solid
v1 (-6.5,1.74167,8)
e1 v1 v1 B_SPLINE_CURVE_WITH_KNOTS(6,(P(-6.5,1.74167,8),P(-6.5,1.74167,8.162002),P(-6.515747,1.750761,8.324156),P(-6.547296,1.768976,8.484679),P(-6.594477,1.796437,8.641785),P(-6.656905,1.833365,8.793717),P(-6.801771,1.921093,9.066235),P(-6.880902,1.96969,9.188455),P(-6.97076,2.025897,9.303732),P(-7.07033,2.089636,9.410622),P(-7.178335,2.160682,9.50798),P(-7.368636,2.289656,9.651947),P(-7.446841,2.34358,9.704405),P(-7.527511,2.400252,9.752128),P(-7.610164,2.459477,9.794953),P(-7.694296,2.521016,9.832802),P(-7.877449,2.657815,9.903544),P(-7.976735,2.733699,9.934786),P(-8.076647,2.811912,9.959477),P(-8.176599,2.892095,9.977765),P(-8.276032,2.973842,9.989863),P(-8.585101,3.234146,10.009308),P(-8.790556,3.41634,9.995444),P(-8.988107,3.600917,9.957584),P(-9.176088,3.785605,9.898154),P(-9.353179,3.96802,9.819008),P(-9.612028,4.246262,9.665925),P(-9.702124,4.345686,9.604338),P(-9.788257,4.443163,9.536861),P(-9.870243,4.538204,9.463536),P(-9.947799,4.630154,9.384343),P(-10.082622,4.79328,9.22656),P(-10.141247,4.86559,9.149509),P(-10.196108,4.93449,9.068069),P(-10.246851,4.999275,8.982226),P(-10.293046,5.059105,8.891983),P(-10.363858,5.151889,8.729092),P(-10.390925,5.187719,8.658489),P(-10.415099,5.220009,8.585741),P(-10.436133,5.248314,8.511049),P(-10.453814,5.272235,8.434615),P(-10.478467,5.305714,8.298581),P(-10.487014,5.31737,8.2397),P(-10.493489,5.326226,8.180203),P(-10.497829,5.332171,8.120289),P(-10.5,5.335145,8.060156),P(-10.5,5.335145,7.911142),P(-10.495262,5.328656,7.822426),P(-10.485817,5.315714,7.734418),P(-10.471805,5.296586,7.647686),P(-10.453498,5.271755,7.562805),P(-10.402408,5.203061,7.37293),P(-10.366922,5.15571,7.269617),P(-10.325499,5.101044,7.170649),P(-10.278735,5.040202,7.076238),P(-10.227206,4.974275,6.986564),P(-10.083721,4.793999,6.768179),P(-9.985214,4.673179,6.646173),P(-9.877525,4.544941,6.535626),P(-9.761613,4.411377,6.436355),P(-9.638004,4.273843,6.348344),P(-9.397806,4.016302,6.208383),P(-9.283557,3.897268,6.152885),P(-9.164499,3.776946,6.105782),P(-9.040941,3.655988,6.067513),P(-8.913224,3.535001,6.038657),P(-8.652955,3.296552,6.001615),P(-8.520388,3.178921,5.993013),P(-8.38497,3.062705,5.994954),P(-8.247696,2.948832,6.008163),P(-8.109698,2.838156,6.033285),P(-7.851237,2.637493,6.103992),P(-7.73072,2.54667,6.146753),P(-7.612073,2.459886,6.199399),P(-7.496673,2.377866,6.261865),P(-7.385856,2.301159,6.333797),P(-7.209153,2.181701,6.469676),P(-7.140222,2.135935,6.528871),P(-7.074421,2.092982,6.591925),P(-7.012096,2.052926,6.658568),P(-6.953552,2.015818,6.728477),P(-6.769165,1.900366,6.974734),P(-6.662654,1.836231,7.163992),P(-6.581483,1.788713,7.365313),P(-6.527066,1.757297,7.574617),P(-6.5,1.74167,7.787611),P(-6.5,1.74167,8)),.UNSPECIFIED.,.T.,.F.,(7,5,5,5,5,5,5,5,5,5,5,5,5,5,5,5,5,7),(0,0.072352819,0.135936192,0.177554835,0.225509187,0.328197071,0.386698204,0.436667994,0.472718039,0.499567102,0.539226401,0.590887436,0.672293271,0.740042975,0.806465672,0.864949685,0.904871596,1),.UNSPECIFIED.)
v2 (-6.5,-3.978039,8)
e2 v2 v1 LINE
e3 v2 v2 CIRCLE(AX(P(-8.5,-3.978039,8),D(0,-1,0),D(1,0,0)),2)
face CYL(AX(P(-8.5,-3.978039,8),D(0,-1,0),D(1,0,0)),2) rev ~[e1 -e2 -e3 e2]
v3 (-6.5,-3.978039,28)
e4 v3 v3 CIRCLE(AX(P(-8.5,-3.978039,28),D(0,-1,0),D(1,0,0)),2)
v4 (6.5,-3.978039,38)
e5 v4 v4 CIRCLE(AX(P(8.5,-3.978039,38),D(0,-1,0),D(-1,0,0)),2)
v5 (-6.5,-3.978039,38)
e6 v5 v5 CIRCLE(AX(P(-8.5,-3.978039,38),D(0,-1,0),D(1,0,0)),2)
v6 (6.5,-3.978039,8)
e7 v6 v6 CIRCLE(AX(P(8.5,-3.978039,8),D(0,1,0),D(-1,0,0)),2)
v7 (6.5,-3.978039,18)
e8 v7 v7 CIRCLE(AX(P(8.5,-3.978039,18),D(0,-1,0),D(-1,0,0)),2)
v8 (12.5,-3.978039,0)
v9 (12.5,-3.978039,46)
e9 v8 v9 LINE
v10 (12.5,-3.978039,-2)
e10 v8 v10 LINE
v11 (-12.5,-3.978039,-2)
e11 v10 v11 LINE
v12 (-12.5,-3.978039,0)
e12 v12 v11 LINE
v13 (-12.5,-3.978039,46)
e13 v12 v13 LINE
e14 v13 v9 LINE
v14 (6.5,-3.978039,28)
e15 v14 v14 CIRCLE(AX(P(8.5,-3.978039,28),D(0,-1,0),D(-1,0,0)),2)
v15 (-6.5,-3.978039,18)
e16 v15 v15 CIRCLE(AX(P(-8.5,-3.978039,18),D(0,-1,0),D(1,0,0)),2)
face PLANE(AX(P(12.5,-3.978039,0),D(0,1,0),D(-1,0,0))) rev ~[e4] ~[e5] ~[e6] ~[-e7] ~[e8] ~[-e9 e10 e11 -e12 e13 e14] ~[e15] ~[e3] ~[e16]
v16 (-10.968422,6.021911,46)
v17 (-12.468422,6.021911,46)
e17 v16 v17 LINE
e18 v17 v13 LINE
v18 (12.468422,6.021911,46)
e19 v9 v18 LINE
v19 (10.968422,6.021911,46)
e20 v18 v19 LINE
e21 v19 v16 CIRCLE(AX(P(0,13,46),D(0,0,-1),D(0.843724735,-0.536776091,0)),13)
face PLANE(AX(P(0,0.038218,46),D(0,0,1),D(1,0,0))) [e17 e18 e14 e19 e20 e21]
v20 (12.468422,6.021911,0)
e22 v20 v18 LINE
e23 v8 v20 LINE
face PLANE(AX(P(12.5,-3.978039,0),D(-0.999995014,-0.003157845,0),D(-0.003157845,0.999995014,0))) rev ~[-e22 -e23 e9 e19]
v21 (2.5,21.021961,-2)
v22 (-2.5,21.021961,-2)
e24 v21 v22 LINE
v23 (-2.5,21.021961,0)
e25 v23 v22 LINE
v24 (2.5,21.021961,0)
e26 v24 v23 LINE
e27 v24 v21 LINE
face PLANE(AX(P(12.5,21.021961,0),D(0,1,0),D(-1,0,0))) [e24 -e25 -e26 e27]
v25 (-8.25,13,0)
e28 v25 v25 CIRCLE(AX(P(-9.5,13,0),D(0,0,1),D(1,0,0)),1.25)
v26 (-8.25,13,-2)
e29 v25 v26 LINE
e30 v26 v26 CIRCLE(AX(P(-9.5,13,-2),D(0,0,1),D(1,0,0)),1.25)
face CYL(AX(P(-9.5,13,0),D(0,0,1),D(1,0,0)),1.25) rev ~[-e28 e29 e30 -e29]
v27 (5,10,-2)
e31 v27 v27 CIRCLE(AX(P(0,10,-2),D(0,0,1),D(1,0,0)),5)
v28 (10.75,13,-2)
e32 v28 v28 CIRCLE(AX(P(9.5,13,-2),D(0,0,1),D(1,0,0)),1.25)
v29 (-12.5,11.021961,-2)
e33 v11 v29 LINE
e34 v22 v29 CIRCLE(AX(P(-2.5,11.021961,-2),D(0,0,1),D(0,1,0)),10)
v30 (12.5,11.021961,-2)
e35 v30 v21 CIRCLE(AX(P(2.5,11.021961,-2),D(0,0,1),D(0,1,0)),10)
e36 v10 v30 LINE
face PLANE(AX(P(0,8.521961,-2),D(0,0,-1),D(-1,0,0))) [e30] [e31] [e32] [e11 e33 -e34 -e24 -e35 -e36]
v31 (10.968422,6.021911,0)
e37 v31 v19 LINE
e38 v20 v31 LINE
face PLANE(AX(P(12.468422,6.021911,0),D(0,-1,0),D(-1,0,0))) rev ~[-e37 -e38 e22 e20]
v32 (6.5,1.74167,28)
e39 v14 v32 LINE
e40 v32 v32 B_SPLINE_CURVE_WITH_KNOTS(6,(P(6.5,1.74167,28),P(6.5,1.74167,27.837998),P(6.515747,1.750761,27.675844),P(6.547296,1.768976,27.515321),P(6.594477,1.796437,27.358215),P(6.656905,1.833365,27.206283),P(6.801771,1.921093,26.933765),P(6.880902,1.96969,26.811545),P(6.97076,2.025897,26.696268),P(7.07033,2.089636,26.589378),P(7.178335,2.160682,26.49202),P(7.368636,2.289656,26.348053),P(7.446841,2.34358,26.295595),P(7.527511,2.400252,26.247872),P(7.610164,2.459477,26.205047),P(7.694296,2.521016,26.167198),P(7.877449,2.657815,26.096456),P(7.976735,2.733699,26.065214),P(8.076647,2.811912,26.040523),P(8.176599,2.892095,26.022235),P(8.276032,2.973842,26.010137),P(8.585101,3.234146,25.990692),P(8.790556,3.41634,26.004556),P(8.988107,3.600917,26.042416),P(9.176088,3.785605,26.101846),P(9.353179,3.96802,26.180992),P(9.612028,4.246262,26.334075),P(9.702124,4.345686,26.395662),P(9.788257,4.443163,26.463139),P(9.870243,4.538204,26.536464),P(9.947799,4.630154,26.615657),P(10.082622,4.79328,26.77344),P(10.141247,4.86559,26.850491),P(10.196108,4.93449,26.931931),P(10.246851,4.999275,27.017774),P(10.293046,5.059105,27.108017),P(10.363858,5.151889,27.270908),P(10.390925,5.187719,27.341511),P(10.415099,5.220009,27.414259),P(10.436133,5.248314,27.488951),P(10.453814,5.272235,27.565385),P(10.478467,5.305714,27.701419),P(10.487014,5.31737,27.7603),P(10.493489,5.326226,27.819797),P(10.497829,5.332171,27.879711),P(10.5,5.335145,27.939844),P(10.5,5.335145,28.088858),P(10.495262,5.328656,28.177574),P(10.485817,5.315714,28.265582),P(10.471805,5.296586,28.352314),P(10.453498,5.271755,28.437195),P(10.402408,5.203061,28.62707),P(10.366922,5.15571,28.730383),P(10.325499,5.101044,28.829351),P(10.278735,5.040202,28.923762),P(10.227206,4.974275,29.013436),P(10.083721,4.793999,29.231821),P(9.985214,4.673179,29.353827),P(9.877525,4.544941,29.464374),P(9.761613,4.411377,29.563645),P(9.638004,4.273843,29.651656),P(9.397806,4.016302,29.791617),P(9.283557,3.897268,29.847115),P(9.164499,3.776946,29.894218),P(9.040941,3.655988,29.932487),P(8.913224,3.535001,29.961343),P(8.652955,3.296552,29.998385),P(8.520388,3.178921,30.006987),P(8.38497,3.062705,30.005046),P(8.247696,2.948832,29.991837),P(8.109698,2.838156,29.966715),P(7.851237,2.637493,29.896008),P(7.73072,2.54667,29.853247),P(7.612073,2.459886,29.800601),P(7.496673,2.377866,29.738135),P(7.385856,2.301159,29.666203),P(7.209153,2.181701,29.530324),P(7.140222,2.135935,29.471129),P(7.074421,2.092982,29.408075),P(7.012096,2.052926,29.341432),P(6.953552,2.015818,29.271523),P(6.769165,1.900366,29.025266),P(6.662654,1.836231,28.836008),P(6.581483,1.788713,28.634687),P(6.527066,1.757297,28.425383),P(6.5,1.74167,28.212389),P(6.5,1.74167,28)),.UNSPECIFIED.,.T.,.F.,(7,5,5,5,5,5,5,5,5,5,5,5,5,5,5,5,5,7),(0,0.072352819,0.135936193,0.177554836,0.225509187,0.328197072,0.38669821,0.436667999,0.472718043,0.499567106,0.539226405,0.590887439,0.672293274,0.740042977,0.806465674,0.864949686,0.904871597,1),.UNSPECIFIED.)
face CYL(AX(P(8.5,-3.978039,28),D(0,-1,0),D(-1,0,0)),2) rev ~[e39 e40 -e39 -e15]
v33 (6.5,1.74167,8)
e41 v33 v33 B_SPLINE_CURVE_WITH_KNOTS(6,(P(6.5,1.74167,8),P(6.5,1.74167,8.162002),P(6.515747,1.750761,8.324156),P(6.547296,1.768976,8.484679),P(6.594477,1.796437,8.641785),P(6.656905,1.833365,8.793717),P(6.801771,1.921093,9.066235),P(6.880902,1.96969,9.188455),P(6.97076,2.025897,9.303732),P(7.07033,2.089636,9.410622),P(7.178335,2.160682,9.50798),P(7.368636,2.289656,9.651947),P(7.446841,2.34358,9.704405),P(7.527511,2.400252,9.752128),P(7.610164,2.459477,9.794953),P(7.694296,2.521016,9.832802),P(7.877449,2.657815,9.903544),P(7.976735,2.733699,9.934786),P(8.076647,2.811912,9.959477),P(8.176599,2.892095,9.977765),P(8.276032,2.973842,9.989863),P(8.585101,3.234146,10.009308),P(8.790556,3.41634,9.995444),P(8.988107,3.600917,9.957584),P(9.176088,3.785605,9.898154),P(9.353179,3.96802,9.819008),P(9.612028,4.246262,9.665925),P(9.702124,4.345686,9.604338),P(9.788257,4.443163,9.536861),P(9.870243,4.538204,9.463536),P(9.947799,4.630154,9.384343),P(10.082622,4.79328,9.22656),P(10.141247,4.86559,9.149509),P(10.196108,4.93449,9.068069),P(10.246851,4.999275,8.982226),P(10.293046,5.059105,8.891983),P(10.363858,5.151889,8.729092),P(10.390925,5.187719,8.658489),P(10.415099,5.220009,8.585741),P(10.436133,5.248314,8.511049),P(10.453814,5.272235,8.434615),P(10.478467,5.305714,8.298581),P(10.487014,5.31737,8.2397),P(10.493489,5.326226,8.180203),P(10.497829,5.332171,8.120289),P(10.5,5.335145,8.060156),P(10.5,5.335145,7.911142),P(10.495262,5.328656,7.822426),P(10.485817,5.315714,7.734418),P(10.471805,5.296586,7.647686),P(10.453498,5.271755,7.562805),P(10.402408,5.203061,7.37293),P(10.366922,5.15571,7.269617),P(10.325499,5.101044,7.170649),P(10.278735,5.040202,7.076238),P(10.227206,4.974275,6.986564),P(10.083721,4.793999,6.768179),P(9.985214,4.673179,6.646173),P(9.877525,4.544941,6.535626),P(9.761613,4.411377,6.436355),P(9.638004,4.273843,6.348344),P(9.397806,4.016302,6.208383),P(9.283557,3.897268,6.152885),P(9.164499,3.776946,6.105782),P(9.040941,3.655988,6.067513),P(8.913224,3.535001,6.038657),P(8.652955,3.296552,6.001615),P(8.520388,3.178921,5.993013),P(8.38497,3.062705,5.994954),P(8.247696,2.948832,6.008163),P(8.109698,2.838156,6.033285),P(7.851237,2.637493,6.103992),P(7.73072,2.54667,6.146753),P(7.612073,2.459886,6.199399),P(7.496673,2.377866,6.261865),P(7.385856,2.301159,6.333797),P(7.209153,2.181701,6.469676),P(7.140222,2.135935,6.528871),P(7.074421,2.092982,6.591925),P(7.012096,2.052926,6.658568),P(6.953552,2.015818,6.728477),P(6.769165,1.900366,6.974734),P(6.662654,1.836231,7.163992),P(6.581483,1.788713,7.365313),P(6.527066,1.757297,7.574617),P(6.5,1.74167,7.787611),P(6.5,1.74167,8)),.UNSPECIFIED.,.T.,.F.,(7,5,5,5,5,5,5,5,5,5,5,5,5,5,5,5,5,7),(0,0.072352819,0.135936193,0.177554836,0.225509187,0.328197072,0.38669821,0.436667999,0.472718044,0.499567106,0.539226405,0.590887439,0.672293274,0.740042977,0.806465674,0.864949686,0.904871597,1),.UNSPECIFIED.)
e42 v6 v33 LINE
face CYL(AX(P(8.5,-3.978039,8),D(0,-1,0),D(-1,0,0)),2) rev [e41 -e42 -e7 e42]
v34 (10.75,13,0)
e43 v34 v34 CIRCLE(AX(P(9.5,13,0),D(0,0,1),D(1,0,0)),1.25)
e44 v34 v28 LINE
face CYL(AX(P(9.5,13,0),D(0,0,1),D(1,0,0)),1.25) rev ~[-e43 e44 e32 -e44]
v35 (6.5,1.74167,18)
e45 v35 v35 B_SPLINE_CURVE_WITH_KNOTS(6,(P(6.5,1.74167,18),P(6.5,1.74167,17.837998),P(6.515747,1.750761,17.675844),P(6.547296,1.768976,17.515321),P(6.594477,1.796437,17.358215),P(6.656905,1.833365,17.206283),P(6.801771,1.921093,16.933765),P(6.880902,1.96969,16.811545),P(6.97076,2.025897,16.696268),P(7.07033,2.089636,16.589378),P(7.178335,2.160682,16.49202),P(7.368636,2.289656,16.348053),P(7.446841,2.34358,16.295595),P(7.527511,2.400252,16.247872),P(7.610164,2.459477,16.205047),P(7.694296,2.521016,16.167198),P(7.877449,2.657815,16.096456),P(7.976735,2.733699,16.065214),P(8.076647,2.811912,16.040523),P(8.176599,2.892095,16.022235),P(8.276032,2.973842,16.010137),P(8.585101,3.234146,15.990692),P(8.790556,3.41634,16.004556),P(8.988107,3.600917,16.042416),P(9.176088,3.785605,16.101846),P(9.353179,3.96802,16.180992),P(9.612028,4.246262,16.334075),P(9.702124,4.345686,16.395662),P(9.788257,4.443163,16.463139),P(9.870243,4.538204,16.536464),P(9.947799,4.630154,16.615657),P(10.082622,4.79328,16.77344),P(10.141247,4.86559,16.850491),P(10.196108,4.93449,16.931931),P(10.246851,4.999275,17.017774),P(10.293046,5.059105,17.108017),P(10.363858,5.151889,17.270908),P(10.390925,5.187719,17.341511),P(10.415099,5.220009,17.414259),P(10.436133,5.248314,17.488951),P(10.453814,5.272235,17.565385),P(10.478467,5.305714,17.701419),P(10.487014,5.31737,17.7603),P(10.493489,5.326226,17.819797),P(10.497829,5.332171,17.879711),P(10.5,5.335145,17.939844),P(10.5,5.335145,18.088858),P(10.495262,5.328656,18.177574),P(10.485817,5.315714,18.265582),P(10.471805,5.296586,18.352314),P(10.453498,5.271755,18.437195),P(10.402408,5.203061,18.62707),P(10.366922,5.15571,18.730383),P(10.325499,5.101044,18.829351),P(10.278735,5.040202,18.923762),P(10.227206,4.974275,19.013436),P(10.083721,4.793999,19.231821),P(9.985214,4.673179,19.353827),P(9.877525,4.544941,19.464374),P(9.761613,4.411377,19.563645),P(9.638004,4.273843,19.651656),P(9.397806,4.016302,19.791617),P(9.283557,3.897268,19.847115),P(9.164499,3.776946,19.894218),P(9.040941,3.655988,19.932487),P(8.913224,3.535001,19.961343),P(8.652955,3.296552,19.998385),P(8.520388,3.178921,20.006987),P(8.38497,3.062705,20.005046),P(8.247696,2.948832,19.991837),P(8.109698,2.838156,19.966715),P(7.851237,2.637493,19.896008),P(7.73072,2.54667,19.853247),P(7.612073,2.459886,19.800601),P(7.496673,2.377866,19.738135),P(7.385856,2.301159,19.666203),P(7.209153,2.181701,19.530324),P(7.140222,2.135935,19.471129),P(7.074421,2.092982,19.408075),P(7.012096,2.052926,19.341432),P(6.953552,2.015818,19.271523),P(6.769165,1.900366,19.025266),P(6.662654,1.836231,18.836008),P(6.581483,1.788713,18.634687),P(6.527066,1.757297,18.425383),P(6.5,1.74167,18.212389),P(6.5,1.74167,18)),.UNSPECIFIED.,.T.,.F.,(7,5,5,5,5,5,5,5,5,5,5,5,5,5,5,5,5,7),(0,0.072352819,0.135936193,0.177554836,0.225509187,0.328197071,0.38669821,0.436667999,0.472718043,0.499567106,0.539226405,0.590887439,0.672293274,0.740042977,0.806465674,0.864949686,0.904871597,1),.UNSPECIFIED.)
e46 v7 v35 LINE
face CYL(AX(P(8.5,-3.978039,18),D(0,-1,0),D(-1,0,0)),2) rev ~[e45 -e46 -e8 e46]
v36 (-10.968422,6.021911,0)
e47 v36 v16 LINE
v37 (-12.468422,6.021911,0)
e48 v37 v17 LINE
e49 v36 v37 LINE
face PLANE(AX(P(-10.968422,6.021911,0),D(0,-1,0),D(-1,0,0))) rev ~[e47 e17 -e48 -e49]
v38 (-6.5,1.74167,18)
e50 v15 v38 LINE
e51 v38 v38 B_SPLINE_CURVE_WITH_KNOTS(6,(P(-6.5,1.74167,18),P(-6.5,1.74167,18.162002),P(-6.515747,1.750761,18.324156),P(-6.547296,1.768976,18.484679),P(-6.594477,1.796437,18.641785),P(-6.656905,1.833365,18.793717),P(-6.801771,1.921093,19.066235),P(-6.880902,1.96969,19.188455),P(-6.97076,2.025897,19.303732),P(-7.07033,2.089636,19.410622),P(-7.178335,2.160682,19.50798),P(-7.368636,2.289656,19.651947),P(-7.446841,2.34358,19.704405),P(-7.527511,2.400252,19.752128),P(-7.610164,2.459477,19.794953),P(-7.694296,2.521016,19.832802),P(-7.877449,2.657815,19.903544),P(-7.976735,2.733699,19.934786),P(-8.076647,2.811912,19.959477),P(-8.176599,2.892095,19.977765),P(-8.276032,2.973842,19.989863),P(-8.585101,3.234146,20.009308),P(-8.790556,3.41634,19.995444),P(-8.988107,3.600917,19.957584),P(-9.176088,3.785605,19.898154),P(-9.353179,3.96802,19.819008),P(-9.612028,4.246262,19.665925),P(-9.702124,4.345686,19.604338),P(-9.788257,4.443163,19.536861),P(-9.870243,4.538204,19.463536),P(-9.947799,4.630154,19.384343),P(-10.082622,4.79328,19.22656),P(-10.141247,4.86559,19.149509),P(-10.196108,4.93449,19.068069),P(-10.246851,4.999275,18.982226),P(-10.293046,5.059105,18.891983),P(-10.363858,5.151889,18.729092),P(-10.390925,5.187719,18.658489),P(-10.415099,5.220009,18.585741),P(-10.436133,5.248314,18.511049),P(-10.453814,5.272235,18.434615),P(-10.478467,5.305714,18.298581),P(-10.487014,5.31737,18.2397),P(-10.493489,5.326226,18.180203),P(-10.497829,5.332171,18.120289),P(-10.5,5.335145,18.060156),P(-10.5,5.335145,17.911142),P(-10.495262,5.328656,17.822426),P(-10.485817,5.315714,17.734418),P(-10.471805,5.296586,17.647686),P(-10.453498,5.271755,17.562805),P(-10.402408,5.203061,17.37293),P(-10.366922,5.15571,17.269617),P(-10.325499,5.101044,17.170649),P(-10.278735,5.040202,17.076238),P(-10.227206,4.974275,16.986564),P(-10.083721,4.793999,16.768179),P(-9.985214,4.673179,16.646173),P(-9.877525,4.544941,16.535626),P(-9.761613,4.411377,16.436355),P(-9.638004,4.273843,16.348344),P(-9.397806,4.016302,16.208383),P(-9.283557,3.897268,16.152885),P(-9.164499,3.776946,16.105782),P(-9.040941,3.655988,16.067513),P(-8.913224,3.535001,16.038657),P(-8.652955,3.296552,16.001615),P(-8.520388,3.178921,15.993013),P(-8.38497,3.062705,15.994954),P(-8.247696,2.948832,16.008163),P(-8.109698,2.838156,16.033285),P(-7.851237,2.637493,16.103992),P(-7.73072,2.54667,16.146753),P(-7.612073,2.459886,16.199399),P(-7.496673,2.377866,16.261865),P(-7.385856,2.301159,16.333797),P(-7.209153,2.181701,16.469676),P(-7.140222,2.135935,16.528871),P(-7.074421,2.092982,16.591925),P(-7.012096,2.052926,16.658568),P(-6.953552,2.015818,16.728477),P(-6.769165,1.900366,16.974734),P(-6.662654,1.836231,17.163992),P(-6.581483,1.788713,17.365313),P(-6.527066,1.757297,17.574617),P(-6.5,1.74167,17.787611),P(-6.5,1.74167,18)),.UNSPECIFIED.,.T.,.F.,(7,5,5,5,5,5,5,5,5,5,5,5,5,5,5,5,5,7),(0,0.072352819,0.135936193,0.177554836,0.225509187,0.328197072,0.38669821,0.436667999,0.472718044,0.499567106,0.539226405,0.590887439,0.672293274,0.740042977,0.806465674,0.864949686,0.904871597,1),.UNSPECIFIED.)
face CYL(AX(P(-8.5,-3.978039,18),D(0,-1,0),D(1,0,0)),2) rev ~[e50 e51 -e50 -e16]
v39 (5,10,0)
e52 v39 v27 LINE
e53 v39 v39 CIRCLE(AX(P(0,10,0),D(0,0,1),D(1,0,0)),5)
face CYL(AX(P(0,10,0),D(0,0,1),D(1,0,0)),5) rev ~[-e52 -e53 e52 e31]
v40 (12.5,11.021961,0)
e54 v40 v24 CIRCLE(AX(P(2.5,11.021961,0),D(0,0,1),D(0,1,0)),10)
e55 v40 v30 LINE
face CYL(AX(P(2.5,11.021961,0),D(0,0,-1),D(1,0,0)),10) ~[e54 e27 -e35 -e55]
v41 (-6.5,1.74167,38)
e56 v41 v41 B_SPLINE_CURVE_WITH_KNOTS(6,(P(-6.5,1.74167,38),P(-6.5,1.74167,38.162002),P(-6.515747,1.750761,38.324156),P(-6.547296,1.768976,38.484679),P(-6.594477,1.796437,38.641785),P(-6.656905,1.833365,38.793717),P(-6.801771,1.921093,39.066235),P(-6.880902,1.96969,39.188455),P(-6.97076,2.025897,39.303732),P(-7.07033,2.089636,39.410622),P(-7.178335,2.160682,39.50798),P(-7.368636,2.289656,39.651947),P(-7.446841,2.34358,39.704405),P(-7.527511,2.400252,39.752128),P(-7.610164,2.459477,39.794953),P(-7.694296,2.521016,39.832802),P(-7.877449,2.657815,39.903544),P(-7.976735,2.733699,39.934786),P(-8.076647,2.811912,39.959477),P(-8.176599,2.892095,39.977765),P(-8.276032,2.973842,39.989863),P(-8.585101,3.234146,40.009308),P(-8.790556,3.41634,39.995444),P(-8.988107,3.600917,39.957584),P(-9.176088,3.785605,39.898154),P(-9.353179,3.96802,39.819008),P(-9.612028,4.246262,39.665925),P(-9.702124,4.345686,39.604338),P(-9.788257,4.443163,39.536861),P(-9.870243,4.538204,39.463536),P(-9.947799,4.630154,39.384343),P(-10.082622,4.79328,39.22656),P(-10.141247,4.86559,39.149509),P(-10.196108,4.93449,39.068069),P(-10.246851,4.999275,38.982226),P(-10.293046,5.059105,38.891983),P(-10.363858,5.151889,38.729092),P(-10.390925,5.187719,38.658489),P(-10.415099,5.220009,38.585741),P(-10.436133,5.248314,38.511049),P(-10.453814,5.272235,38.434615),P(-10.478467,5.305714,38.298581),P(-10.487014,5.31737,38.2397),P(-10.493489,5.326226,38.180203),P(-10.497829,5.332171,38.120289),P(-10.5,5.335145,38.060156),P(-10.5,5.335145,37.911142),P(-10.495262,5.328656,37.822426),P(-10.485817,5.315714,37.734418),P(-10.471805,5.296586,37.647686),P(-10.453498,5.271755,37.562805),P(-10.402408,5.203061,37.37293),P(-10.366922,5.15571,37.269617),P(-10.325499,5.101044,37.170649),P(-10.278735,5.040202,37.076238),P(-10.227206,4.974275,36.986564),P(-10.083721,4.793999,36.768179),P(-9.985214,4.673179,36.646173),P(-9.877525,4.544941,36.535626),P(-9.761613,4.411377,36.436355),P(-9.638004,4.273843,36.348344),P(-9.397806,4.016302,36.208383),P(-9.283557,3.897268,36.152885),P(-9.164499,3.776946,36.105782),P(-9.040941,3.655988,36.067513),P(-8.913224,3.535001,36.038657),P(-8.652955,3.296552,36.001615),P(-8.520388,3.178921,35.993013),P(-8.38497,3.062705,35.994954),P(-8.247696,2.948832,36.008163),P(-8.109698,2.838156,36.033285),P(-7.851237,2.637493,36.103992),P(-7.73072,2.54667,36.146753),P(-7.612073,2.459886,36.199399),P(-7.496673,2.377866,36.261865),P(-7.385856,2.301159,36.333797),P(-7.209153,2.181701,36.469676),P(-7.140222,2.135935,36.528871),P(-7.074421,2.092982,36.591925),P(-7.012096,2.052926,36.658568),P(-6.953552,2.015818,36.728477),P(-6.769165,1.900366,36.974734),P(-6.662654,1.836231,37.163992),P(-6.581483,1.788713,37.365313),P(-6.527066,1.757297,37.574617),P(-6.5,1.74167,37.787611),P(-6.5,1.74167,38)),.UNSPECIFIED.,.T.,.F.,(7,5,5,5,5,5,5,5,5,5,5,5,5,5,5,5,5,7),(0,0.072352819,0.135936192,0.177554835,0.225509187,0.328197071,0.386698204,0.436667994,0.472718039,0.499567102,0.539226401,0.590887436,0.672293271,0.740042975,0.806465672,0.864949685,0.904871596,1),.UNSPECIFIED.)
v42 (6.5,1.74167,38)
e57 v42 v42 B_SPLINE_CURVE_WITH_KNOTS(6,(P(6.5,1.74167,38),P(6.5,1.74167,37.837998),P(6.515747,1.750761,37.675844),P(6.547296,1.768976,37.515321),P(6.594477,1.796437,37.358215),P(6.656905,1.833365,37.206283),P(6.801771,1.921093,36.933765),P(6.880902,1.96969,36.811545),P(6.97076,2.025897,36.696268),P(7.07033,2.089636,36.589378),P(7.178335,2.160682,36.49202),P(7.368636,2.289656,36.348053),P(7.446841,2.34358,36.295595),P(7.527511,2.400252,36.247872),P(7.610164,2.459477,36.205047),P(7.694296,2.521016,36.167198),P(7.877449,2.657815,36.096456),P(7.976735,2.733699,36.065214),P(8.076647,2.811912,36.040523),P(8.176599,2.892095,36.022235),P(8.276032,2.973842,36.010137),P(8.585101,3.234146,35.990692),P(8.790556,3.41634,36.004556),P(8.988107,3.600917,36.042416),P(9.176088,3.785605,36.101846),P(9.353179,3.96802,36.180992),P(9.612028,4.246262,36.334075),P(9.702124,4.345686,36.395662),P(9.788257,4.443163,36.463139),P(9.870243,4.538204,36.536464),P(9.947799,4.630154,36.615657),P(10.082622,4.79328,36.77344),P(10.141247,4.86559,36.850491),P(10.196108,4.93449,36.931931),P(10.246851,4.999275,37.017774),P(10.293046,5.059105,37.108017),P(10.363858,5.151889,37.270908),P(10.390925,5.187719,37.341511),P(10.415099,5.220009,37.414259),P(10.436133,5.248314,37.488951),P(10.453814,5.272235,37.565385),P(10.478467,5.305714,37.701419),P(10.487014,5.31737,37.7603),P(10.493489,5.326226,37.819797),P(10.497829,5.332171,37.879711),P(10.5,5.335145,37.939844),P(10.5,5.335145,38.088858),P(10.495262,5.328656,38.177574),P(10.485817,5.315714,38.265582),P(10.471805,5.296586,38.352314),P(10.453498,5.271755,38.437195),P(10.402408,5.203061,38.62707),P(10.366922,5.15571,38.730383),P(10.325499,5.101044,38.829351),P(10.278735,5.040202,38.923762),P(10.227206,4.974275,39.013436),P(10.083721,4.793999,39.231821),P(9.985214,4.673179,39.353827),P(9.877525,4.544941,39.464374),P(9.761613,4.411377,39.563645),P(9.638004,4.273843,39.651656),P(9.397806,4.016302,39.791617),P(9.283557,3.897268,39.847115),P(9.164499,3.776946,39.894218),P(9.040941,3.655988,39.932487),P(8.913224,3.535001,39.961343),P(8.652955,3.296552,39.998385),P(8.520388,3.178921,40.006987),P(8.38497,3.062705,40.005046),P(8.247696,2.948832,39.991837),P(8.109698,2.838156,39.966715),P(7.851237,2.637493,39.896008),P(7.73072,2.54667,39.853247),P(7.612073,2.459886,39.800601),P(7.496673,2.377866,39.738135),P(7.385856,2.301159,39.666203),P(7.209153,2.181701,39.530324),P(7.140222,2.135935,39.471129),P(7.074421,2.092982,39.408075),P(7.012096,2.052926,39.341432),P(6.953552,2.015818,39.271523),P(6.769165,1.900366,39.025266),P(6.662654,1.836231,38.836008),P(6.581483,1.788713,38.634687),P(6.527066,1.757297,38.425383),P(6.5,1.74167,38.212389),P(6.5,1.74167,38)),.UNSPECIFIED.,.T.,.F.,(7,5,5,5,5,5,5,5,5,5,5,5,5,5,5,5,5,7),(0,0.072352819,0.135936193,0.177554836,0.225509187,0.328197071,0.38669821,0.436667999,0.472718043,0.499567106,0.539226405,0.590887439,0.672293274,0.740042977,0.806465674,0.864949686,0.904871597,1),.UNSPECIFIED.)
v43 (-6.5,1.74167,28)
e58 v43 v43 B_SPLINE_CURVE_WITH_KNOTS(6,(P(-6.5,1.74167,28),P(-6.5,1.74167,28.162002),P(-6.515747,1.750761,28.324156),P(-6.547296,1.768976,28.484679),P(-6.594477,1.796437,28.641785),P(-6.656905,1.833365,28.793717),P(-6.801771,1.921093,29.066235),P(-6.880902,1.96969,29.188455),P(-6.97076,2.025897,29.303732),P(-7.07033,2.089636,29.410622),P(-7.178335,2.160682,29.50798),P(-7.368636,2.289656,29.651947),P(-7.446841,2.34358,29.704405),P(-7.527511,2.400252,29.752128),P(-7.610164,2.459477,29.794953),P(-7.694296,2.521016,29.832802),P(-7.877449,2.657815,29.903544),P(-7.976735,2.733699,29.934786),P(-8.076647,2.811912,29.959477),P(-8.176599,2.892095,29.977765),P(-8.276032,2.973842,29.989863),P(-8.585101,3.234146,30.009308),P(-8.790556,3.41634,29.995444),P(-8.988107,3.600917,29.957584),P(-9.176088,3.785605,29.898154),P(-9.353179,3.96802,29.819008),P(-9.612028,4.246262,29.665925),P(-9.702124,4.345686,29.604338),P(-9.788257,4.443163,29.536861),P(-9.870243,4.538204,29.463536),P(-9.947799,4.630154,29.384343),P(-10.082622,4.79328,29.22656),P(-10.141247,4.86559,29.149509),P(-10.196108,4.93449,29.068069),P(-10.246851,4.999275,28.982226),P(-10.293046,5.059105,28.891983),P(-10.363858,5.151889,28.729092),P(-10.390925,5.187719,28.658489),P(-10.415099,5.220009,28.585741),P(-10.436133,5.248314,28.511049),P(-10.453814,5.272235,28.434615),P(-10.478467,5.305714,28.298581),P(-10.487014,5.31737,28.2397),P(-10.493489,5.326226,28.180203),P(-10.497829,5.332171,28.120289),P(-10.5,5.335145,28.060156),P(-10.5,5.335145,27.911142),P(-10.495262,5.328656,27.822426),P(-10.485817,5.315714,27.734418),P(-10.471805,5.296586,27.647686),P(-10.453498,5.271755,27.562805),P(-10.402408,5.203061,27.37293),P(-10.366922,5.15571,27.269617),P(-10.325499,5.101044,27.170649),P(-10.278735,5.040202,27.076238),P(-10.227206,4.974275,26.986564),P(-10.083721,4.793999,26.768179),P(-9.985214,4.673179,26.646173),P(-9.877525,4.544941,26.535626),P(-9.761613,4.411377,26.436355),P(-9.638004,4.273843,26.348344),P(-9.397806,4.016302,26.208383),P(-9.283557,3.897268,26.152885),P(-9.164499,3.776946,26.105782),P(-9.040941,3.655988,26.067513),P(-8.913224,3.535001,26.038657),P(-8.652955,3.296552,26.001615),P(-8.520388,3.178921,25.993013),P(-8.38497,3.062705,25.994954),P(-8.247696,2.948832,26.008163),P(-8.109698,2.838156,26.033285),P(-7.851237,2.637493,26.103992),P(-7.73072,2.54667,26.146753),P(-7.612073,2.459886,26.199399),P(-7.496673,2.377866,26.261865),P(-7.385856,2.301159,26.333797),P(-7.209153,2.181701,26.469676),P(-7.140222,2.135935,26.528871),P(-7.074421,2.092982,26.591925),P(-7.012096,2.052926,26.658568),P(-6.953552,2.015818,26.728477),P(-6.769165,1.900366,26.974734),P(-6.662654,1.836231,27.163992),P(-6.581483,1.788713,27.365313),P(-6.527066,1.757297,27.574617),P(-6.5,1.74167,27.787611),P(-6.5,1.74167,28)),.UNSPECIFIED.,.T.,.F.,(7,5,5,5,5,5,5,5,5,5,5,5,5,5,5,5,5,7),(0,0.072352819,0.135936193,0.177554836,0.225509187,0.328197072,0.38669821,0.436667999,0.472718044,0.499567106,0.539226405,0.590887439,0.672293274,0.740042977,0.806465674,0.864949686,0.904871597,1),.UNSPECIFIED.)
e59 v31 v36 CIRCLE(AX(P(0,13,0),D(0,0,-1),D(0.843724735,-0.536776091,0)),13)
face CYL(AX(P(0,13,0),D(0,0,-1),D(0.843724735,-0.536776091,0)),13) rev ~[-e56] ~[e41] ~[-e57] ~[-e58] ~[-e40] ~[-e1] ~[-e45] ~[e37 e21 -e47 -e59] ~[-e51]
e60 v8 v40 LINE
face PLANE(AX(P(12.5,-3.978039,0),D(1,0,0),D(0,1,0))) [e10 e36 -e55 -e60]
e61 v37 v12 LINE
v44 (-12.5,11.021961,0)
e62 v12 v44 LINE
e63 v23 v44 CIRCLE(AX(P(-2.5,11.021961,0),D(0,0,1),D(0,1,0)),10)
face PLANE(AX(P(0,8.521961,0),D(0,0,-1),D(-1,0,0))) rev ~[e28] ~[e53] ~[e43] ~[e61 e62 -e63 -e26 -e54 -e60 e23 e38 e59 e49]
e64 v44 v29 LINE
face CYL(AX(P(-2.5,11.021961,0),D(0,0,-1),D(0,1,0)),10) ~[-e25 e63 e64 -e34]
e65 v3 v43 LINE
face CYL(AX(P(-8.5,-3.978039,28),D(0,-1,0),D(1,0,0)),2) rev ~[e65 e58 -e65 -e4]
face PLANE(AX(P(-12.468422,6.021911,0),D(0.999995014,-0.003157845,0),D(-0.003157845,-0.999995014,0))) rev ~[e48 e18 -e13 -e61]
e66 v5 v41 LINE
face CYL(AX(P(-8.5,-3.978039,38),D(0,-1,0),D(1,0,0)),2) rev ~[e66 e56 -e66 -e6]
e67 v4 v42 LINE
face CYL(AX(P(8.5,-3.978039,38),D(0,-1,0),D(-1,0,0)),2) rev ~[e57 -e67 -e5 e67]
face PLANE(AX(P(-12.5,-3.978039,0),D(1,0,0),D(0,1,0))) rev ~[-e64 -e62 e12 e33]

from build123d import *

# Parameters (mm, degrees)
BOSS_EXTRUDE1_DEPTH       = 46
SKETCH3_W                 = 25
SKETCH3_H                 = 25
BOSS_EXTRUDE2_DEPTH       = 2
SKETCH4_R                 = 1.25
SKETCH4_R_2               = 5
CUT_EXTRUDE1_DEPTH        = 3
FILLET1_R                 = 10
SKETCH5_R                 = 2
CUT_EXTRUDE2_DEPTH        = 26
LPATTERN1_COUNT           = 4
LPATTERN1_PITCH           = 10
LPATTERN1_COPY_1_SKETCH_R = 2
LPATTERN1_COPY_1_DEPTH    = 26
LPATTERN1_COPY_2_SKETCH_R = 2
LPATTERN1_COPY_2_DEPTH    = 26
LPATTERN1_COPY_3_SKETCH_R = 2
LPATTERN1_COPY_3_DEPTH    = 26


with BuildPart() as part:
    # Sketch2 → Boss-Extrude1 (new body)
    with BuildSketch(Plane.XY):
        with BuildLine():
            Line((-12.5, -3.978039328), (12.5, -3.978039328))
            Line((12.5, -3.978039328), (12.468421549, 6.021910812))
            Line((12.468421549, 6.021910812), (10.968421549, 6.021910812))
            ThreePointArc((10.968421549, 6.021910812), (0, 0), (-10.968421549, 6.021910812))
            Line((-10.968421549, 6.021910812), (-12.468421549, 6.021910812))
            Line((-12.468421549, 6.021910812), (-12.5, -3.978039328))
        make_face()
    extrude(amount=BOSS_EXTRUDE1_DEPTH)

    # Sketch3 → Boss-Extrude2 (add)
    with BuildSketch(Plane(origin=(0, 0, 0), x_dir=(-1, 0, 0), z_dir=(0, 0, -1))):
        with Locations((0, 8.521960672)):
            Rectangle(SKETCH3_W, SKETCH3_H)
    extrude(amount=BOSS_EXTRUDE2_DEPTH)

    # Sketch4 → Cut-Extrude1 (cut, through all)
    with BuildSketch(Plane.XY):
        with Locations((-9.5, 13)):
            Circle(SKETCH4_R)
        with Locations((9.5, 13)):
            Circle(SKETCH4_R)
        with Locations((0, 10)):
            Circle(SKETCH4_R_2)
    extrude(amount=-CUT_EXTRUDE1_DEPTH, mode=Mode.SUBTRACT)

    # Fillet1
    fillet1_edges = [part.edges().sort_by_distance(p)[0] for p in [
        (12.5, 21.021960672, -1),
        (-12.5, 21.021960672, -1),
    ]]
    fillet(fillet1_edges, radius=FILLET1_R)

    # Sketch5 → Cut-Extrude2 (cut, through all)
    with BuildSketch(Plane.XZ.offset(3.978039328)):
        with Locations((-8.5, 8)):
            Circle(SKETCH5_R)
    cut_extrude2 = extrude(amount=-CUT_EXTRUDE2_DEPTH, mode=Mode.SUBTRACT)

    # Mirror1: Cut-Extrude2 across plane
    add(cut_extrude2.mirror(Plane(origin=(0, 0, 0), x_dir=(0, 0, 1), z_dir=(1, 0, 0))), mode=Mode.SUBTRACT)

    # LPattern1: Cut-Extrude2 ×4
    with Locations(*[(0, 0, i * LPATTERN1_PITCH) for i in range(1, LPATTERN1_COUNT)]):
        add(cut_extrude2, mode=Mode.SUBTRACT)

    # LPattern1 copy 1 sketch → LPattern1 copy 1 (cut, through all)
    with BuildSketch(Plane(origin=(0, -3.978039328, 10), x_dir=(-1, 0, 0), z_dir=(0, -1, 0))):
        with Locations((-8.5, -8)):
            Circle(LPATTERN1_COPY_1_SKETCH_R)
    extrude(amount=-LPATTERN1_COPY_1_DEPTH, mode=Mode.SUBTRACT)

    # LPattern1 copy 2 sketch → LPattern1 copy 2 (cut, through all)
    with BuildSketch(Plane(origin=(0, -3.978039328, 20), x_dir=(-1, 0, 0), z_dir=(0, -1, 0))):
        with Locations((-8.5, -8)):
            Circle(LPATTERN1_COPY_2_SKETCH_R)
    extrude(amount=-LPATTERN1_COPY_2_DEPTH, mode=Mode.SUBTRACT)

    # LPattern1 copy 3 sketch → LPattern1 copy 3 (cut, through all)
    with BuildSketch(Plane(origin=(0, -3.978039328, 30), x_dir=(-1, 0, 0), z_dir=(0, -1, 0))):
        with Locations((-8.5, -8)):
            Circle(LPATTERN1_COPY_3_SKETCH_R)
    extrude(amount=-LPATTERN1_COPY_3_DEPTH, mode=Mode.SUBTRACT)


solid = part.part
